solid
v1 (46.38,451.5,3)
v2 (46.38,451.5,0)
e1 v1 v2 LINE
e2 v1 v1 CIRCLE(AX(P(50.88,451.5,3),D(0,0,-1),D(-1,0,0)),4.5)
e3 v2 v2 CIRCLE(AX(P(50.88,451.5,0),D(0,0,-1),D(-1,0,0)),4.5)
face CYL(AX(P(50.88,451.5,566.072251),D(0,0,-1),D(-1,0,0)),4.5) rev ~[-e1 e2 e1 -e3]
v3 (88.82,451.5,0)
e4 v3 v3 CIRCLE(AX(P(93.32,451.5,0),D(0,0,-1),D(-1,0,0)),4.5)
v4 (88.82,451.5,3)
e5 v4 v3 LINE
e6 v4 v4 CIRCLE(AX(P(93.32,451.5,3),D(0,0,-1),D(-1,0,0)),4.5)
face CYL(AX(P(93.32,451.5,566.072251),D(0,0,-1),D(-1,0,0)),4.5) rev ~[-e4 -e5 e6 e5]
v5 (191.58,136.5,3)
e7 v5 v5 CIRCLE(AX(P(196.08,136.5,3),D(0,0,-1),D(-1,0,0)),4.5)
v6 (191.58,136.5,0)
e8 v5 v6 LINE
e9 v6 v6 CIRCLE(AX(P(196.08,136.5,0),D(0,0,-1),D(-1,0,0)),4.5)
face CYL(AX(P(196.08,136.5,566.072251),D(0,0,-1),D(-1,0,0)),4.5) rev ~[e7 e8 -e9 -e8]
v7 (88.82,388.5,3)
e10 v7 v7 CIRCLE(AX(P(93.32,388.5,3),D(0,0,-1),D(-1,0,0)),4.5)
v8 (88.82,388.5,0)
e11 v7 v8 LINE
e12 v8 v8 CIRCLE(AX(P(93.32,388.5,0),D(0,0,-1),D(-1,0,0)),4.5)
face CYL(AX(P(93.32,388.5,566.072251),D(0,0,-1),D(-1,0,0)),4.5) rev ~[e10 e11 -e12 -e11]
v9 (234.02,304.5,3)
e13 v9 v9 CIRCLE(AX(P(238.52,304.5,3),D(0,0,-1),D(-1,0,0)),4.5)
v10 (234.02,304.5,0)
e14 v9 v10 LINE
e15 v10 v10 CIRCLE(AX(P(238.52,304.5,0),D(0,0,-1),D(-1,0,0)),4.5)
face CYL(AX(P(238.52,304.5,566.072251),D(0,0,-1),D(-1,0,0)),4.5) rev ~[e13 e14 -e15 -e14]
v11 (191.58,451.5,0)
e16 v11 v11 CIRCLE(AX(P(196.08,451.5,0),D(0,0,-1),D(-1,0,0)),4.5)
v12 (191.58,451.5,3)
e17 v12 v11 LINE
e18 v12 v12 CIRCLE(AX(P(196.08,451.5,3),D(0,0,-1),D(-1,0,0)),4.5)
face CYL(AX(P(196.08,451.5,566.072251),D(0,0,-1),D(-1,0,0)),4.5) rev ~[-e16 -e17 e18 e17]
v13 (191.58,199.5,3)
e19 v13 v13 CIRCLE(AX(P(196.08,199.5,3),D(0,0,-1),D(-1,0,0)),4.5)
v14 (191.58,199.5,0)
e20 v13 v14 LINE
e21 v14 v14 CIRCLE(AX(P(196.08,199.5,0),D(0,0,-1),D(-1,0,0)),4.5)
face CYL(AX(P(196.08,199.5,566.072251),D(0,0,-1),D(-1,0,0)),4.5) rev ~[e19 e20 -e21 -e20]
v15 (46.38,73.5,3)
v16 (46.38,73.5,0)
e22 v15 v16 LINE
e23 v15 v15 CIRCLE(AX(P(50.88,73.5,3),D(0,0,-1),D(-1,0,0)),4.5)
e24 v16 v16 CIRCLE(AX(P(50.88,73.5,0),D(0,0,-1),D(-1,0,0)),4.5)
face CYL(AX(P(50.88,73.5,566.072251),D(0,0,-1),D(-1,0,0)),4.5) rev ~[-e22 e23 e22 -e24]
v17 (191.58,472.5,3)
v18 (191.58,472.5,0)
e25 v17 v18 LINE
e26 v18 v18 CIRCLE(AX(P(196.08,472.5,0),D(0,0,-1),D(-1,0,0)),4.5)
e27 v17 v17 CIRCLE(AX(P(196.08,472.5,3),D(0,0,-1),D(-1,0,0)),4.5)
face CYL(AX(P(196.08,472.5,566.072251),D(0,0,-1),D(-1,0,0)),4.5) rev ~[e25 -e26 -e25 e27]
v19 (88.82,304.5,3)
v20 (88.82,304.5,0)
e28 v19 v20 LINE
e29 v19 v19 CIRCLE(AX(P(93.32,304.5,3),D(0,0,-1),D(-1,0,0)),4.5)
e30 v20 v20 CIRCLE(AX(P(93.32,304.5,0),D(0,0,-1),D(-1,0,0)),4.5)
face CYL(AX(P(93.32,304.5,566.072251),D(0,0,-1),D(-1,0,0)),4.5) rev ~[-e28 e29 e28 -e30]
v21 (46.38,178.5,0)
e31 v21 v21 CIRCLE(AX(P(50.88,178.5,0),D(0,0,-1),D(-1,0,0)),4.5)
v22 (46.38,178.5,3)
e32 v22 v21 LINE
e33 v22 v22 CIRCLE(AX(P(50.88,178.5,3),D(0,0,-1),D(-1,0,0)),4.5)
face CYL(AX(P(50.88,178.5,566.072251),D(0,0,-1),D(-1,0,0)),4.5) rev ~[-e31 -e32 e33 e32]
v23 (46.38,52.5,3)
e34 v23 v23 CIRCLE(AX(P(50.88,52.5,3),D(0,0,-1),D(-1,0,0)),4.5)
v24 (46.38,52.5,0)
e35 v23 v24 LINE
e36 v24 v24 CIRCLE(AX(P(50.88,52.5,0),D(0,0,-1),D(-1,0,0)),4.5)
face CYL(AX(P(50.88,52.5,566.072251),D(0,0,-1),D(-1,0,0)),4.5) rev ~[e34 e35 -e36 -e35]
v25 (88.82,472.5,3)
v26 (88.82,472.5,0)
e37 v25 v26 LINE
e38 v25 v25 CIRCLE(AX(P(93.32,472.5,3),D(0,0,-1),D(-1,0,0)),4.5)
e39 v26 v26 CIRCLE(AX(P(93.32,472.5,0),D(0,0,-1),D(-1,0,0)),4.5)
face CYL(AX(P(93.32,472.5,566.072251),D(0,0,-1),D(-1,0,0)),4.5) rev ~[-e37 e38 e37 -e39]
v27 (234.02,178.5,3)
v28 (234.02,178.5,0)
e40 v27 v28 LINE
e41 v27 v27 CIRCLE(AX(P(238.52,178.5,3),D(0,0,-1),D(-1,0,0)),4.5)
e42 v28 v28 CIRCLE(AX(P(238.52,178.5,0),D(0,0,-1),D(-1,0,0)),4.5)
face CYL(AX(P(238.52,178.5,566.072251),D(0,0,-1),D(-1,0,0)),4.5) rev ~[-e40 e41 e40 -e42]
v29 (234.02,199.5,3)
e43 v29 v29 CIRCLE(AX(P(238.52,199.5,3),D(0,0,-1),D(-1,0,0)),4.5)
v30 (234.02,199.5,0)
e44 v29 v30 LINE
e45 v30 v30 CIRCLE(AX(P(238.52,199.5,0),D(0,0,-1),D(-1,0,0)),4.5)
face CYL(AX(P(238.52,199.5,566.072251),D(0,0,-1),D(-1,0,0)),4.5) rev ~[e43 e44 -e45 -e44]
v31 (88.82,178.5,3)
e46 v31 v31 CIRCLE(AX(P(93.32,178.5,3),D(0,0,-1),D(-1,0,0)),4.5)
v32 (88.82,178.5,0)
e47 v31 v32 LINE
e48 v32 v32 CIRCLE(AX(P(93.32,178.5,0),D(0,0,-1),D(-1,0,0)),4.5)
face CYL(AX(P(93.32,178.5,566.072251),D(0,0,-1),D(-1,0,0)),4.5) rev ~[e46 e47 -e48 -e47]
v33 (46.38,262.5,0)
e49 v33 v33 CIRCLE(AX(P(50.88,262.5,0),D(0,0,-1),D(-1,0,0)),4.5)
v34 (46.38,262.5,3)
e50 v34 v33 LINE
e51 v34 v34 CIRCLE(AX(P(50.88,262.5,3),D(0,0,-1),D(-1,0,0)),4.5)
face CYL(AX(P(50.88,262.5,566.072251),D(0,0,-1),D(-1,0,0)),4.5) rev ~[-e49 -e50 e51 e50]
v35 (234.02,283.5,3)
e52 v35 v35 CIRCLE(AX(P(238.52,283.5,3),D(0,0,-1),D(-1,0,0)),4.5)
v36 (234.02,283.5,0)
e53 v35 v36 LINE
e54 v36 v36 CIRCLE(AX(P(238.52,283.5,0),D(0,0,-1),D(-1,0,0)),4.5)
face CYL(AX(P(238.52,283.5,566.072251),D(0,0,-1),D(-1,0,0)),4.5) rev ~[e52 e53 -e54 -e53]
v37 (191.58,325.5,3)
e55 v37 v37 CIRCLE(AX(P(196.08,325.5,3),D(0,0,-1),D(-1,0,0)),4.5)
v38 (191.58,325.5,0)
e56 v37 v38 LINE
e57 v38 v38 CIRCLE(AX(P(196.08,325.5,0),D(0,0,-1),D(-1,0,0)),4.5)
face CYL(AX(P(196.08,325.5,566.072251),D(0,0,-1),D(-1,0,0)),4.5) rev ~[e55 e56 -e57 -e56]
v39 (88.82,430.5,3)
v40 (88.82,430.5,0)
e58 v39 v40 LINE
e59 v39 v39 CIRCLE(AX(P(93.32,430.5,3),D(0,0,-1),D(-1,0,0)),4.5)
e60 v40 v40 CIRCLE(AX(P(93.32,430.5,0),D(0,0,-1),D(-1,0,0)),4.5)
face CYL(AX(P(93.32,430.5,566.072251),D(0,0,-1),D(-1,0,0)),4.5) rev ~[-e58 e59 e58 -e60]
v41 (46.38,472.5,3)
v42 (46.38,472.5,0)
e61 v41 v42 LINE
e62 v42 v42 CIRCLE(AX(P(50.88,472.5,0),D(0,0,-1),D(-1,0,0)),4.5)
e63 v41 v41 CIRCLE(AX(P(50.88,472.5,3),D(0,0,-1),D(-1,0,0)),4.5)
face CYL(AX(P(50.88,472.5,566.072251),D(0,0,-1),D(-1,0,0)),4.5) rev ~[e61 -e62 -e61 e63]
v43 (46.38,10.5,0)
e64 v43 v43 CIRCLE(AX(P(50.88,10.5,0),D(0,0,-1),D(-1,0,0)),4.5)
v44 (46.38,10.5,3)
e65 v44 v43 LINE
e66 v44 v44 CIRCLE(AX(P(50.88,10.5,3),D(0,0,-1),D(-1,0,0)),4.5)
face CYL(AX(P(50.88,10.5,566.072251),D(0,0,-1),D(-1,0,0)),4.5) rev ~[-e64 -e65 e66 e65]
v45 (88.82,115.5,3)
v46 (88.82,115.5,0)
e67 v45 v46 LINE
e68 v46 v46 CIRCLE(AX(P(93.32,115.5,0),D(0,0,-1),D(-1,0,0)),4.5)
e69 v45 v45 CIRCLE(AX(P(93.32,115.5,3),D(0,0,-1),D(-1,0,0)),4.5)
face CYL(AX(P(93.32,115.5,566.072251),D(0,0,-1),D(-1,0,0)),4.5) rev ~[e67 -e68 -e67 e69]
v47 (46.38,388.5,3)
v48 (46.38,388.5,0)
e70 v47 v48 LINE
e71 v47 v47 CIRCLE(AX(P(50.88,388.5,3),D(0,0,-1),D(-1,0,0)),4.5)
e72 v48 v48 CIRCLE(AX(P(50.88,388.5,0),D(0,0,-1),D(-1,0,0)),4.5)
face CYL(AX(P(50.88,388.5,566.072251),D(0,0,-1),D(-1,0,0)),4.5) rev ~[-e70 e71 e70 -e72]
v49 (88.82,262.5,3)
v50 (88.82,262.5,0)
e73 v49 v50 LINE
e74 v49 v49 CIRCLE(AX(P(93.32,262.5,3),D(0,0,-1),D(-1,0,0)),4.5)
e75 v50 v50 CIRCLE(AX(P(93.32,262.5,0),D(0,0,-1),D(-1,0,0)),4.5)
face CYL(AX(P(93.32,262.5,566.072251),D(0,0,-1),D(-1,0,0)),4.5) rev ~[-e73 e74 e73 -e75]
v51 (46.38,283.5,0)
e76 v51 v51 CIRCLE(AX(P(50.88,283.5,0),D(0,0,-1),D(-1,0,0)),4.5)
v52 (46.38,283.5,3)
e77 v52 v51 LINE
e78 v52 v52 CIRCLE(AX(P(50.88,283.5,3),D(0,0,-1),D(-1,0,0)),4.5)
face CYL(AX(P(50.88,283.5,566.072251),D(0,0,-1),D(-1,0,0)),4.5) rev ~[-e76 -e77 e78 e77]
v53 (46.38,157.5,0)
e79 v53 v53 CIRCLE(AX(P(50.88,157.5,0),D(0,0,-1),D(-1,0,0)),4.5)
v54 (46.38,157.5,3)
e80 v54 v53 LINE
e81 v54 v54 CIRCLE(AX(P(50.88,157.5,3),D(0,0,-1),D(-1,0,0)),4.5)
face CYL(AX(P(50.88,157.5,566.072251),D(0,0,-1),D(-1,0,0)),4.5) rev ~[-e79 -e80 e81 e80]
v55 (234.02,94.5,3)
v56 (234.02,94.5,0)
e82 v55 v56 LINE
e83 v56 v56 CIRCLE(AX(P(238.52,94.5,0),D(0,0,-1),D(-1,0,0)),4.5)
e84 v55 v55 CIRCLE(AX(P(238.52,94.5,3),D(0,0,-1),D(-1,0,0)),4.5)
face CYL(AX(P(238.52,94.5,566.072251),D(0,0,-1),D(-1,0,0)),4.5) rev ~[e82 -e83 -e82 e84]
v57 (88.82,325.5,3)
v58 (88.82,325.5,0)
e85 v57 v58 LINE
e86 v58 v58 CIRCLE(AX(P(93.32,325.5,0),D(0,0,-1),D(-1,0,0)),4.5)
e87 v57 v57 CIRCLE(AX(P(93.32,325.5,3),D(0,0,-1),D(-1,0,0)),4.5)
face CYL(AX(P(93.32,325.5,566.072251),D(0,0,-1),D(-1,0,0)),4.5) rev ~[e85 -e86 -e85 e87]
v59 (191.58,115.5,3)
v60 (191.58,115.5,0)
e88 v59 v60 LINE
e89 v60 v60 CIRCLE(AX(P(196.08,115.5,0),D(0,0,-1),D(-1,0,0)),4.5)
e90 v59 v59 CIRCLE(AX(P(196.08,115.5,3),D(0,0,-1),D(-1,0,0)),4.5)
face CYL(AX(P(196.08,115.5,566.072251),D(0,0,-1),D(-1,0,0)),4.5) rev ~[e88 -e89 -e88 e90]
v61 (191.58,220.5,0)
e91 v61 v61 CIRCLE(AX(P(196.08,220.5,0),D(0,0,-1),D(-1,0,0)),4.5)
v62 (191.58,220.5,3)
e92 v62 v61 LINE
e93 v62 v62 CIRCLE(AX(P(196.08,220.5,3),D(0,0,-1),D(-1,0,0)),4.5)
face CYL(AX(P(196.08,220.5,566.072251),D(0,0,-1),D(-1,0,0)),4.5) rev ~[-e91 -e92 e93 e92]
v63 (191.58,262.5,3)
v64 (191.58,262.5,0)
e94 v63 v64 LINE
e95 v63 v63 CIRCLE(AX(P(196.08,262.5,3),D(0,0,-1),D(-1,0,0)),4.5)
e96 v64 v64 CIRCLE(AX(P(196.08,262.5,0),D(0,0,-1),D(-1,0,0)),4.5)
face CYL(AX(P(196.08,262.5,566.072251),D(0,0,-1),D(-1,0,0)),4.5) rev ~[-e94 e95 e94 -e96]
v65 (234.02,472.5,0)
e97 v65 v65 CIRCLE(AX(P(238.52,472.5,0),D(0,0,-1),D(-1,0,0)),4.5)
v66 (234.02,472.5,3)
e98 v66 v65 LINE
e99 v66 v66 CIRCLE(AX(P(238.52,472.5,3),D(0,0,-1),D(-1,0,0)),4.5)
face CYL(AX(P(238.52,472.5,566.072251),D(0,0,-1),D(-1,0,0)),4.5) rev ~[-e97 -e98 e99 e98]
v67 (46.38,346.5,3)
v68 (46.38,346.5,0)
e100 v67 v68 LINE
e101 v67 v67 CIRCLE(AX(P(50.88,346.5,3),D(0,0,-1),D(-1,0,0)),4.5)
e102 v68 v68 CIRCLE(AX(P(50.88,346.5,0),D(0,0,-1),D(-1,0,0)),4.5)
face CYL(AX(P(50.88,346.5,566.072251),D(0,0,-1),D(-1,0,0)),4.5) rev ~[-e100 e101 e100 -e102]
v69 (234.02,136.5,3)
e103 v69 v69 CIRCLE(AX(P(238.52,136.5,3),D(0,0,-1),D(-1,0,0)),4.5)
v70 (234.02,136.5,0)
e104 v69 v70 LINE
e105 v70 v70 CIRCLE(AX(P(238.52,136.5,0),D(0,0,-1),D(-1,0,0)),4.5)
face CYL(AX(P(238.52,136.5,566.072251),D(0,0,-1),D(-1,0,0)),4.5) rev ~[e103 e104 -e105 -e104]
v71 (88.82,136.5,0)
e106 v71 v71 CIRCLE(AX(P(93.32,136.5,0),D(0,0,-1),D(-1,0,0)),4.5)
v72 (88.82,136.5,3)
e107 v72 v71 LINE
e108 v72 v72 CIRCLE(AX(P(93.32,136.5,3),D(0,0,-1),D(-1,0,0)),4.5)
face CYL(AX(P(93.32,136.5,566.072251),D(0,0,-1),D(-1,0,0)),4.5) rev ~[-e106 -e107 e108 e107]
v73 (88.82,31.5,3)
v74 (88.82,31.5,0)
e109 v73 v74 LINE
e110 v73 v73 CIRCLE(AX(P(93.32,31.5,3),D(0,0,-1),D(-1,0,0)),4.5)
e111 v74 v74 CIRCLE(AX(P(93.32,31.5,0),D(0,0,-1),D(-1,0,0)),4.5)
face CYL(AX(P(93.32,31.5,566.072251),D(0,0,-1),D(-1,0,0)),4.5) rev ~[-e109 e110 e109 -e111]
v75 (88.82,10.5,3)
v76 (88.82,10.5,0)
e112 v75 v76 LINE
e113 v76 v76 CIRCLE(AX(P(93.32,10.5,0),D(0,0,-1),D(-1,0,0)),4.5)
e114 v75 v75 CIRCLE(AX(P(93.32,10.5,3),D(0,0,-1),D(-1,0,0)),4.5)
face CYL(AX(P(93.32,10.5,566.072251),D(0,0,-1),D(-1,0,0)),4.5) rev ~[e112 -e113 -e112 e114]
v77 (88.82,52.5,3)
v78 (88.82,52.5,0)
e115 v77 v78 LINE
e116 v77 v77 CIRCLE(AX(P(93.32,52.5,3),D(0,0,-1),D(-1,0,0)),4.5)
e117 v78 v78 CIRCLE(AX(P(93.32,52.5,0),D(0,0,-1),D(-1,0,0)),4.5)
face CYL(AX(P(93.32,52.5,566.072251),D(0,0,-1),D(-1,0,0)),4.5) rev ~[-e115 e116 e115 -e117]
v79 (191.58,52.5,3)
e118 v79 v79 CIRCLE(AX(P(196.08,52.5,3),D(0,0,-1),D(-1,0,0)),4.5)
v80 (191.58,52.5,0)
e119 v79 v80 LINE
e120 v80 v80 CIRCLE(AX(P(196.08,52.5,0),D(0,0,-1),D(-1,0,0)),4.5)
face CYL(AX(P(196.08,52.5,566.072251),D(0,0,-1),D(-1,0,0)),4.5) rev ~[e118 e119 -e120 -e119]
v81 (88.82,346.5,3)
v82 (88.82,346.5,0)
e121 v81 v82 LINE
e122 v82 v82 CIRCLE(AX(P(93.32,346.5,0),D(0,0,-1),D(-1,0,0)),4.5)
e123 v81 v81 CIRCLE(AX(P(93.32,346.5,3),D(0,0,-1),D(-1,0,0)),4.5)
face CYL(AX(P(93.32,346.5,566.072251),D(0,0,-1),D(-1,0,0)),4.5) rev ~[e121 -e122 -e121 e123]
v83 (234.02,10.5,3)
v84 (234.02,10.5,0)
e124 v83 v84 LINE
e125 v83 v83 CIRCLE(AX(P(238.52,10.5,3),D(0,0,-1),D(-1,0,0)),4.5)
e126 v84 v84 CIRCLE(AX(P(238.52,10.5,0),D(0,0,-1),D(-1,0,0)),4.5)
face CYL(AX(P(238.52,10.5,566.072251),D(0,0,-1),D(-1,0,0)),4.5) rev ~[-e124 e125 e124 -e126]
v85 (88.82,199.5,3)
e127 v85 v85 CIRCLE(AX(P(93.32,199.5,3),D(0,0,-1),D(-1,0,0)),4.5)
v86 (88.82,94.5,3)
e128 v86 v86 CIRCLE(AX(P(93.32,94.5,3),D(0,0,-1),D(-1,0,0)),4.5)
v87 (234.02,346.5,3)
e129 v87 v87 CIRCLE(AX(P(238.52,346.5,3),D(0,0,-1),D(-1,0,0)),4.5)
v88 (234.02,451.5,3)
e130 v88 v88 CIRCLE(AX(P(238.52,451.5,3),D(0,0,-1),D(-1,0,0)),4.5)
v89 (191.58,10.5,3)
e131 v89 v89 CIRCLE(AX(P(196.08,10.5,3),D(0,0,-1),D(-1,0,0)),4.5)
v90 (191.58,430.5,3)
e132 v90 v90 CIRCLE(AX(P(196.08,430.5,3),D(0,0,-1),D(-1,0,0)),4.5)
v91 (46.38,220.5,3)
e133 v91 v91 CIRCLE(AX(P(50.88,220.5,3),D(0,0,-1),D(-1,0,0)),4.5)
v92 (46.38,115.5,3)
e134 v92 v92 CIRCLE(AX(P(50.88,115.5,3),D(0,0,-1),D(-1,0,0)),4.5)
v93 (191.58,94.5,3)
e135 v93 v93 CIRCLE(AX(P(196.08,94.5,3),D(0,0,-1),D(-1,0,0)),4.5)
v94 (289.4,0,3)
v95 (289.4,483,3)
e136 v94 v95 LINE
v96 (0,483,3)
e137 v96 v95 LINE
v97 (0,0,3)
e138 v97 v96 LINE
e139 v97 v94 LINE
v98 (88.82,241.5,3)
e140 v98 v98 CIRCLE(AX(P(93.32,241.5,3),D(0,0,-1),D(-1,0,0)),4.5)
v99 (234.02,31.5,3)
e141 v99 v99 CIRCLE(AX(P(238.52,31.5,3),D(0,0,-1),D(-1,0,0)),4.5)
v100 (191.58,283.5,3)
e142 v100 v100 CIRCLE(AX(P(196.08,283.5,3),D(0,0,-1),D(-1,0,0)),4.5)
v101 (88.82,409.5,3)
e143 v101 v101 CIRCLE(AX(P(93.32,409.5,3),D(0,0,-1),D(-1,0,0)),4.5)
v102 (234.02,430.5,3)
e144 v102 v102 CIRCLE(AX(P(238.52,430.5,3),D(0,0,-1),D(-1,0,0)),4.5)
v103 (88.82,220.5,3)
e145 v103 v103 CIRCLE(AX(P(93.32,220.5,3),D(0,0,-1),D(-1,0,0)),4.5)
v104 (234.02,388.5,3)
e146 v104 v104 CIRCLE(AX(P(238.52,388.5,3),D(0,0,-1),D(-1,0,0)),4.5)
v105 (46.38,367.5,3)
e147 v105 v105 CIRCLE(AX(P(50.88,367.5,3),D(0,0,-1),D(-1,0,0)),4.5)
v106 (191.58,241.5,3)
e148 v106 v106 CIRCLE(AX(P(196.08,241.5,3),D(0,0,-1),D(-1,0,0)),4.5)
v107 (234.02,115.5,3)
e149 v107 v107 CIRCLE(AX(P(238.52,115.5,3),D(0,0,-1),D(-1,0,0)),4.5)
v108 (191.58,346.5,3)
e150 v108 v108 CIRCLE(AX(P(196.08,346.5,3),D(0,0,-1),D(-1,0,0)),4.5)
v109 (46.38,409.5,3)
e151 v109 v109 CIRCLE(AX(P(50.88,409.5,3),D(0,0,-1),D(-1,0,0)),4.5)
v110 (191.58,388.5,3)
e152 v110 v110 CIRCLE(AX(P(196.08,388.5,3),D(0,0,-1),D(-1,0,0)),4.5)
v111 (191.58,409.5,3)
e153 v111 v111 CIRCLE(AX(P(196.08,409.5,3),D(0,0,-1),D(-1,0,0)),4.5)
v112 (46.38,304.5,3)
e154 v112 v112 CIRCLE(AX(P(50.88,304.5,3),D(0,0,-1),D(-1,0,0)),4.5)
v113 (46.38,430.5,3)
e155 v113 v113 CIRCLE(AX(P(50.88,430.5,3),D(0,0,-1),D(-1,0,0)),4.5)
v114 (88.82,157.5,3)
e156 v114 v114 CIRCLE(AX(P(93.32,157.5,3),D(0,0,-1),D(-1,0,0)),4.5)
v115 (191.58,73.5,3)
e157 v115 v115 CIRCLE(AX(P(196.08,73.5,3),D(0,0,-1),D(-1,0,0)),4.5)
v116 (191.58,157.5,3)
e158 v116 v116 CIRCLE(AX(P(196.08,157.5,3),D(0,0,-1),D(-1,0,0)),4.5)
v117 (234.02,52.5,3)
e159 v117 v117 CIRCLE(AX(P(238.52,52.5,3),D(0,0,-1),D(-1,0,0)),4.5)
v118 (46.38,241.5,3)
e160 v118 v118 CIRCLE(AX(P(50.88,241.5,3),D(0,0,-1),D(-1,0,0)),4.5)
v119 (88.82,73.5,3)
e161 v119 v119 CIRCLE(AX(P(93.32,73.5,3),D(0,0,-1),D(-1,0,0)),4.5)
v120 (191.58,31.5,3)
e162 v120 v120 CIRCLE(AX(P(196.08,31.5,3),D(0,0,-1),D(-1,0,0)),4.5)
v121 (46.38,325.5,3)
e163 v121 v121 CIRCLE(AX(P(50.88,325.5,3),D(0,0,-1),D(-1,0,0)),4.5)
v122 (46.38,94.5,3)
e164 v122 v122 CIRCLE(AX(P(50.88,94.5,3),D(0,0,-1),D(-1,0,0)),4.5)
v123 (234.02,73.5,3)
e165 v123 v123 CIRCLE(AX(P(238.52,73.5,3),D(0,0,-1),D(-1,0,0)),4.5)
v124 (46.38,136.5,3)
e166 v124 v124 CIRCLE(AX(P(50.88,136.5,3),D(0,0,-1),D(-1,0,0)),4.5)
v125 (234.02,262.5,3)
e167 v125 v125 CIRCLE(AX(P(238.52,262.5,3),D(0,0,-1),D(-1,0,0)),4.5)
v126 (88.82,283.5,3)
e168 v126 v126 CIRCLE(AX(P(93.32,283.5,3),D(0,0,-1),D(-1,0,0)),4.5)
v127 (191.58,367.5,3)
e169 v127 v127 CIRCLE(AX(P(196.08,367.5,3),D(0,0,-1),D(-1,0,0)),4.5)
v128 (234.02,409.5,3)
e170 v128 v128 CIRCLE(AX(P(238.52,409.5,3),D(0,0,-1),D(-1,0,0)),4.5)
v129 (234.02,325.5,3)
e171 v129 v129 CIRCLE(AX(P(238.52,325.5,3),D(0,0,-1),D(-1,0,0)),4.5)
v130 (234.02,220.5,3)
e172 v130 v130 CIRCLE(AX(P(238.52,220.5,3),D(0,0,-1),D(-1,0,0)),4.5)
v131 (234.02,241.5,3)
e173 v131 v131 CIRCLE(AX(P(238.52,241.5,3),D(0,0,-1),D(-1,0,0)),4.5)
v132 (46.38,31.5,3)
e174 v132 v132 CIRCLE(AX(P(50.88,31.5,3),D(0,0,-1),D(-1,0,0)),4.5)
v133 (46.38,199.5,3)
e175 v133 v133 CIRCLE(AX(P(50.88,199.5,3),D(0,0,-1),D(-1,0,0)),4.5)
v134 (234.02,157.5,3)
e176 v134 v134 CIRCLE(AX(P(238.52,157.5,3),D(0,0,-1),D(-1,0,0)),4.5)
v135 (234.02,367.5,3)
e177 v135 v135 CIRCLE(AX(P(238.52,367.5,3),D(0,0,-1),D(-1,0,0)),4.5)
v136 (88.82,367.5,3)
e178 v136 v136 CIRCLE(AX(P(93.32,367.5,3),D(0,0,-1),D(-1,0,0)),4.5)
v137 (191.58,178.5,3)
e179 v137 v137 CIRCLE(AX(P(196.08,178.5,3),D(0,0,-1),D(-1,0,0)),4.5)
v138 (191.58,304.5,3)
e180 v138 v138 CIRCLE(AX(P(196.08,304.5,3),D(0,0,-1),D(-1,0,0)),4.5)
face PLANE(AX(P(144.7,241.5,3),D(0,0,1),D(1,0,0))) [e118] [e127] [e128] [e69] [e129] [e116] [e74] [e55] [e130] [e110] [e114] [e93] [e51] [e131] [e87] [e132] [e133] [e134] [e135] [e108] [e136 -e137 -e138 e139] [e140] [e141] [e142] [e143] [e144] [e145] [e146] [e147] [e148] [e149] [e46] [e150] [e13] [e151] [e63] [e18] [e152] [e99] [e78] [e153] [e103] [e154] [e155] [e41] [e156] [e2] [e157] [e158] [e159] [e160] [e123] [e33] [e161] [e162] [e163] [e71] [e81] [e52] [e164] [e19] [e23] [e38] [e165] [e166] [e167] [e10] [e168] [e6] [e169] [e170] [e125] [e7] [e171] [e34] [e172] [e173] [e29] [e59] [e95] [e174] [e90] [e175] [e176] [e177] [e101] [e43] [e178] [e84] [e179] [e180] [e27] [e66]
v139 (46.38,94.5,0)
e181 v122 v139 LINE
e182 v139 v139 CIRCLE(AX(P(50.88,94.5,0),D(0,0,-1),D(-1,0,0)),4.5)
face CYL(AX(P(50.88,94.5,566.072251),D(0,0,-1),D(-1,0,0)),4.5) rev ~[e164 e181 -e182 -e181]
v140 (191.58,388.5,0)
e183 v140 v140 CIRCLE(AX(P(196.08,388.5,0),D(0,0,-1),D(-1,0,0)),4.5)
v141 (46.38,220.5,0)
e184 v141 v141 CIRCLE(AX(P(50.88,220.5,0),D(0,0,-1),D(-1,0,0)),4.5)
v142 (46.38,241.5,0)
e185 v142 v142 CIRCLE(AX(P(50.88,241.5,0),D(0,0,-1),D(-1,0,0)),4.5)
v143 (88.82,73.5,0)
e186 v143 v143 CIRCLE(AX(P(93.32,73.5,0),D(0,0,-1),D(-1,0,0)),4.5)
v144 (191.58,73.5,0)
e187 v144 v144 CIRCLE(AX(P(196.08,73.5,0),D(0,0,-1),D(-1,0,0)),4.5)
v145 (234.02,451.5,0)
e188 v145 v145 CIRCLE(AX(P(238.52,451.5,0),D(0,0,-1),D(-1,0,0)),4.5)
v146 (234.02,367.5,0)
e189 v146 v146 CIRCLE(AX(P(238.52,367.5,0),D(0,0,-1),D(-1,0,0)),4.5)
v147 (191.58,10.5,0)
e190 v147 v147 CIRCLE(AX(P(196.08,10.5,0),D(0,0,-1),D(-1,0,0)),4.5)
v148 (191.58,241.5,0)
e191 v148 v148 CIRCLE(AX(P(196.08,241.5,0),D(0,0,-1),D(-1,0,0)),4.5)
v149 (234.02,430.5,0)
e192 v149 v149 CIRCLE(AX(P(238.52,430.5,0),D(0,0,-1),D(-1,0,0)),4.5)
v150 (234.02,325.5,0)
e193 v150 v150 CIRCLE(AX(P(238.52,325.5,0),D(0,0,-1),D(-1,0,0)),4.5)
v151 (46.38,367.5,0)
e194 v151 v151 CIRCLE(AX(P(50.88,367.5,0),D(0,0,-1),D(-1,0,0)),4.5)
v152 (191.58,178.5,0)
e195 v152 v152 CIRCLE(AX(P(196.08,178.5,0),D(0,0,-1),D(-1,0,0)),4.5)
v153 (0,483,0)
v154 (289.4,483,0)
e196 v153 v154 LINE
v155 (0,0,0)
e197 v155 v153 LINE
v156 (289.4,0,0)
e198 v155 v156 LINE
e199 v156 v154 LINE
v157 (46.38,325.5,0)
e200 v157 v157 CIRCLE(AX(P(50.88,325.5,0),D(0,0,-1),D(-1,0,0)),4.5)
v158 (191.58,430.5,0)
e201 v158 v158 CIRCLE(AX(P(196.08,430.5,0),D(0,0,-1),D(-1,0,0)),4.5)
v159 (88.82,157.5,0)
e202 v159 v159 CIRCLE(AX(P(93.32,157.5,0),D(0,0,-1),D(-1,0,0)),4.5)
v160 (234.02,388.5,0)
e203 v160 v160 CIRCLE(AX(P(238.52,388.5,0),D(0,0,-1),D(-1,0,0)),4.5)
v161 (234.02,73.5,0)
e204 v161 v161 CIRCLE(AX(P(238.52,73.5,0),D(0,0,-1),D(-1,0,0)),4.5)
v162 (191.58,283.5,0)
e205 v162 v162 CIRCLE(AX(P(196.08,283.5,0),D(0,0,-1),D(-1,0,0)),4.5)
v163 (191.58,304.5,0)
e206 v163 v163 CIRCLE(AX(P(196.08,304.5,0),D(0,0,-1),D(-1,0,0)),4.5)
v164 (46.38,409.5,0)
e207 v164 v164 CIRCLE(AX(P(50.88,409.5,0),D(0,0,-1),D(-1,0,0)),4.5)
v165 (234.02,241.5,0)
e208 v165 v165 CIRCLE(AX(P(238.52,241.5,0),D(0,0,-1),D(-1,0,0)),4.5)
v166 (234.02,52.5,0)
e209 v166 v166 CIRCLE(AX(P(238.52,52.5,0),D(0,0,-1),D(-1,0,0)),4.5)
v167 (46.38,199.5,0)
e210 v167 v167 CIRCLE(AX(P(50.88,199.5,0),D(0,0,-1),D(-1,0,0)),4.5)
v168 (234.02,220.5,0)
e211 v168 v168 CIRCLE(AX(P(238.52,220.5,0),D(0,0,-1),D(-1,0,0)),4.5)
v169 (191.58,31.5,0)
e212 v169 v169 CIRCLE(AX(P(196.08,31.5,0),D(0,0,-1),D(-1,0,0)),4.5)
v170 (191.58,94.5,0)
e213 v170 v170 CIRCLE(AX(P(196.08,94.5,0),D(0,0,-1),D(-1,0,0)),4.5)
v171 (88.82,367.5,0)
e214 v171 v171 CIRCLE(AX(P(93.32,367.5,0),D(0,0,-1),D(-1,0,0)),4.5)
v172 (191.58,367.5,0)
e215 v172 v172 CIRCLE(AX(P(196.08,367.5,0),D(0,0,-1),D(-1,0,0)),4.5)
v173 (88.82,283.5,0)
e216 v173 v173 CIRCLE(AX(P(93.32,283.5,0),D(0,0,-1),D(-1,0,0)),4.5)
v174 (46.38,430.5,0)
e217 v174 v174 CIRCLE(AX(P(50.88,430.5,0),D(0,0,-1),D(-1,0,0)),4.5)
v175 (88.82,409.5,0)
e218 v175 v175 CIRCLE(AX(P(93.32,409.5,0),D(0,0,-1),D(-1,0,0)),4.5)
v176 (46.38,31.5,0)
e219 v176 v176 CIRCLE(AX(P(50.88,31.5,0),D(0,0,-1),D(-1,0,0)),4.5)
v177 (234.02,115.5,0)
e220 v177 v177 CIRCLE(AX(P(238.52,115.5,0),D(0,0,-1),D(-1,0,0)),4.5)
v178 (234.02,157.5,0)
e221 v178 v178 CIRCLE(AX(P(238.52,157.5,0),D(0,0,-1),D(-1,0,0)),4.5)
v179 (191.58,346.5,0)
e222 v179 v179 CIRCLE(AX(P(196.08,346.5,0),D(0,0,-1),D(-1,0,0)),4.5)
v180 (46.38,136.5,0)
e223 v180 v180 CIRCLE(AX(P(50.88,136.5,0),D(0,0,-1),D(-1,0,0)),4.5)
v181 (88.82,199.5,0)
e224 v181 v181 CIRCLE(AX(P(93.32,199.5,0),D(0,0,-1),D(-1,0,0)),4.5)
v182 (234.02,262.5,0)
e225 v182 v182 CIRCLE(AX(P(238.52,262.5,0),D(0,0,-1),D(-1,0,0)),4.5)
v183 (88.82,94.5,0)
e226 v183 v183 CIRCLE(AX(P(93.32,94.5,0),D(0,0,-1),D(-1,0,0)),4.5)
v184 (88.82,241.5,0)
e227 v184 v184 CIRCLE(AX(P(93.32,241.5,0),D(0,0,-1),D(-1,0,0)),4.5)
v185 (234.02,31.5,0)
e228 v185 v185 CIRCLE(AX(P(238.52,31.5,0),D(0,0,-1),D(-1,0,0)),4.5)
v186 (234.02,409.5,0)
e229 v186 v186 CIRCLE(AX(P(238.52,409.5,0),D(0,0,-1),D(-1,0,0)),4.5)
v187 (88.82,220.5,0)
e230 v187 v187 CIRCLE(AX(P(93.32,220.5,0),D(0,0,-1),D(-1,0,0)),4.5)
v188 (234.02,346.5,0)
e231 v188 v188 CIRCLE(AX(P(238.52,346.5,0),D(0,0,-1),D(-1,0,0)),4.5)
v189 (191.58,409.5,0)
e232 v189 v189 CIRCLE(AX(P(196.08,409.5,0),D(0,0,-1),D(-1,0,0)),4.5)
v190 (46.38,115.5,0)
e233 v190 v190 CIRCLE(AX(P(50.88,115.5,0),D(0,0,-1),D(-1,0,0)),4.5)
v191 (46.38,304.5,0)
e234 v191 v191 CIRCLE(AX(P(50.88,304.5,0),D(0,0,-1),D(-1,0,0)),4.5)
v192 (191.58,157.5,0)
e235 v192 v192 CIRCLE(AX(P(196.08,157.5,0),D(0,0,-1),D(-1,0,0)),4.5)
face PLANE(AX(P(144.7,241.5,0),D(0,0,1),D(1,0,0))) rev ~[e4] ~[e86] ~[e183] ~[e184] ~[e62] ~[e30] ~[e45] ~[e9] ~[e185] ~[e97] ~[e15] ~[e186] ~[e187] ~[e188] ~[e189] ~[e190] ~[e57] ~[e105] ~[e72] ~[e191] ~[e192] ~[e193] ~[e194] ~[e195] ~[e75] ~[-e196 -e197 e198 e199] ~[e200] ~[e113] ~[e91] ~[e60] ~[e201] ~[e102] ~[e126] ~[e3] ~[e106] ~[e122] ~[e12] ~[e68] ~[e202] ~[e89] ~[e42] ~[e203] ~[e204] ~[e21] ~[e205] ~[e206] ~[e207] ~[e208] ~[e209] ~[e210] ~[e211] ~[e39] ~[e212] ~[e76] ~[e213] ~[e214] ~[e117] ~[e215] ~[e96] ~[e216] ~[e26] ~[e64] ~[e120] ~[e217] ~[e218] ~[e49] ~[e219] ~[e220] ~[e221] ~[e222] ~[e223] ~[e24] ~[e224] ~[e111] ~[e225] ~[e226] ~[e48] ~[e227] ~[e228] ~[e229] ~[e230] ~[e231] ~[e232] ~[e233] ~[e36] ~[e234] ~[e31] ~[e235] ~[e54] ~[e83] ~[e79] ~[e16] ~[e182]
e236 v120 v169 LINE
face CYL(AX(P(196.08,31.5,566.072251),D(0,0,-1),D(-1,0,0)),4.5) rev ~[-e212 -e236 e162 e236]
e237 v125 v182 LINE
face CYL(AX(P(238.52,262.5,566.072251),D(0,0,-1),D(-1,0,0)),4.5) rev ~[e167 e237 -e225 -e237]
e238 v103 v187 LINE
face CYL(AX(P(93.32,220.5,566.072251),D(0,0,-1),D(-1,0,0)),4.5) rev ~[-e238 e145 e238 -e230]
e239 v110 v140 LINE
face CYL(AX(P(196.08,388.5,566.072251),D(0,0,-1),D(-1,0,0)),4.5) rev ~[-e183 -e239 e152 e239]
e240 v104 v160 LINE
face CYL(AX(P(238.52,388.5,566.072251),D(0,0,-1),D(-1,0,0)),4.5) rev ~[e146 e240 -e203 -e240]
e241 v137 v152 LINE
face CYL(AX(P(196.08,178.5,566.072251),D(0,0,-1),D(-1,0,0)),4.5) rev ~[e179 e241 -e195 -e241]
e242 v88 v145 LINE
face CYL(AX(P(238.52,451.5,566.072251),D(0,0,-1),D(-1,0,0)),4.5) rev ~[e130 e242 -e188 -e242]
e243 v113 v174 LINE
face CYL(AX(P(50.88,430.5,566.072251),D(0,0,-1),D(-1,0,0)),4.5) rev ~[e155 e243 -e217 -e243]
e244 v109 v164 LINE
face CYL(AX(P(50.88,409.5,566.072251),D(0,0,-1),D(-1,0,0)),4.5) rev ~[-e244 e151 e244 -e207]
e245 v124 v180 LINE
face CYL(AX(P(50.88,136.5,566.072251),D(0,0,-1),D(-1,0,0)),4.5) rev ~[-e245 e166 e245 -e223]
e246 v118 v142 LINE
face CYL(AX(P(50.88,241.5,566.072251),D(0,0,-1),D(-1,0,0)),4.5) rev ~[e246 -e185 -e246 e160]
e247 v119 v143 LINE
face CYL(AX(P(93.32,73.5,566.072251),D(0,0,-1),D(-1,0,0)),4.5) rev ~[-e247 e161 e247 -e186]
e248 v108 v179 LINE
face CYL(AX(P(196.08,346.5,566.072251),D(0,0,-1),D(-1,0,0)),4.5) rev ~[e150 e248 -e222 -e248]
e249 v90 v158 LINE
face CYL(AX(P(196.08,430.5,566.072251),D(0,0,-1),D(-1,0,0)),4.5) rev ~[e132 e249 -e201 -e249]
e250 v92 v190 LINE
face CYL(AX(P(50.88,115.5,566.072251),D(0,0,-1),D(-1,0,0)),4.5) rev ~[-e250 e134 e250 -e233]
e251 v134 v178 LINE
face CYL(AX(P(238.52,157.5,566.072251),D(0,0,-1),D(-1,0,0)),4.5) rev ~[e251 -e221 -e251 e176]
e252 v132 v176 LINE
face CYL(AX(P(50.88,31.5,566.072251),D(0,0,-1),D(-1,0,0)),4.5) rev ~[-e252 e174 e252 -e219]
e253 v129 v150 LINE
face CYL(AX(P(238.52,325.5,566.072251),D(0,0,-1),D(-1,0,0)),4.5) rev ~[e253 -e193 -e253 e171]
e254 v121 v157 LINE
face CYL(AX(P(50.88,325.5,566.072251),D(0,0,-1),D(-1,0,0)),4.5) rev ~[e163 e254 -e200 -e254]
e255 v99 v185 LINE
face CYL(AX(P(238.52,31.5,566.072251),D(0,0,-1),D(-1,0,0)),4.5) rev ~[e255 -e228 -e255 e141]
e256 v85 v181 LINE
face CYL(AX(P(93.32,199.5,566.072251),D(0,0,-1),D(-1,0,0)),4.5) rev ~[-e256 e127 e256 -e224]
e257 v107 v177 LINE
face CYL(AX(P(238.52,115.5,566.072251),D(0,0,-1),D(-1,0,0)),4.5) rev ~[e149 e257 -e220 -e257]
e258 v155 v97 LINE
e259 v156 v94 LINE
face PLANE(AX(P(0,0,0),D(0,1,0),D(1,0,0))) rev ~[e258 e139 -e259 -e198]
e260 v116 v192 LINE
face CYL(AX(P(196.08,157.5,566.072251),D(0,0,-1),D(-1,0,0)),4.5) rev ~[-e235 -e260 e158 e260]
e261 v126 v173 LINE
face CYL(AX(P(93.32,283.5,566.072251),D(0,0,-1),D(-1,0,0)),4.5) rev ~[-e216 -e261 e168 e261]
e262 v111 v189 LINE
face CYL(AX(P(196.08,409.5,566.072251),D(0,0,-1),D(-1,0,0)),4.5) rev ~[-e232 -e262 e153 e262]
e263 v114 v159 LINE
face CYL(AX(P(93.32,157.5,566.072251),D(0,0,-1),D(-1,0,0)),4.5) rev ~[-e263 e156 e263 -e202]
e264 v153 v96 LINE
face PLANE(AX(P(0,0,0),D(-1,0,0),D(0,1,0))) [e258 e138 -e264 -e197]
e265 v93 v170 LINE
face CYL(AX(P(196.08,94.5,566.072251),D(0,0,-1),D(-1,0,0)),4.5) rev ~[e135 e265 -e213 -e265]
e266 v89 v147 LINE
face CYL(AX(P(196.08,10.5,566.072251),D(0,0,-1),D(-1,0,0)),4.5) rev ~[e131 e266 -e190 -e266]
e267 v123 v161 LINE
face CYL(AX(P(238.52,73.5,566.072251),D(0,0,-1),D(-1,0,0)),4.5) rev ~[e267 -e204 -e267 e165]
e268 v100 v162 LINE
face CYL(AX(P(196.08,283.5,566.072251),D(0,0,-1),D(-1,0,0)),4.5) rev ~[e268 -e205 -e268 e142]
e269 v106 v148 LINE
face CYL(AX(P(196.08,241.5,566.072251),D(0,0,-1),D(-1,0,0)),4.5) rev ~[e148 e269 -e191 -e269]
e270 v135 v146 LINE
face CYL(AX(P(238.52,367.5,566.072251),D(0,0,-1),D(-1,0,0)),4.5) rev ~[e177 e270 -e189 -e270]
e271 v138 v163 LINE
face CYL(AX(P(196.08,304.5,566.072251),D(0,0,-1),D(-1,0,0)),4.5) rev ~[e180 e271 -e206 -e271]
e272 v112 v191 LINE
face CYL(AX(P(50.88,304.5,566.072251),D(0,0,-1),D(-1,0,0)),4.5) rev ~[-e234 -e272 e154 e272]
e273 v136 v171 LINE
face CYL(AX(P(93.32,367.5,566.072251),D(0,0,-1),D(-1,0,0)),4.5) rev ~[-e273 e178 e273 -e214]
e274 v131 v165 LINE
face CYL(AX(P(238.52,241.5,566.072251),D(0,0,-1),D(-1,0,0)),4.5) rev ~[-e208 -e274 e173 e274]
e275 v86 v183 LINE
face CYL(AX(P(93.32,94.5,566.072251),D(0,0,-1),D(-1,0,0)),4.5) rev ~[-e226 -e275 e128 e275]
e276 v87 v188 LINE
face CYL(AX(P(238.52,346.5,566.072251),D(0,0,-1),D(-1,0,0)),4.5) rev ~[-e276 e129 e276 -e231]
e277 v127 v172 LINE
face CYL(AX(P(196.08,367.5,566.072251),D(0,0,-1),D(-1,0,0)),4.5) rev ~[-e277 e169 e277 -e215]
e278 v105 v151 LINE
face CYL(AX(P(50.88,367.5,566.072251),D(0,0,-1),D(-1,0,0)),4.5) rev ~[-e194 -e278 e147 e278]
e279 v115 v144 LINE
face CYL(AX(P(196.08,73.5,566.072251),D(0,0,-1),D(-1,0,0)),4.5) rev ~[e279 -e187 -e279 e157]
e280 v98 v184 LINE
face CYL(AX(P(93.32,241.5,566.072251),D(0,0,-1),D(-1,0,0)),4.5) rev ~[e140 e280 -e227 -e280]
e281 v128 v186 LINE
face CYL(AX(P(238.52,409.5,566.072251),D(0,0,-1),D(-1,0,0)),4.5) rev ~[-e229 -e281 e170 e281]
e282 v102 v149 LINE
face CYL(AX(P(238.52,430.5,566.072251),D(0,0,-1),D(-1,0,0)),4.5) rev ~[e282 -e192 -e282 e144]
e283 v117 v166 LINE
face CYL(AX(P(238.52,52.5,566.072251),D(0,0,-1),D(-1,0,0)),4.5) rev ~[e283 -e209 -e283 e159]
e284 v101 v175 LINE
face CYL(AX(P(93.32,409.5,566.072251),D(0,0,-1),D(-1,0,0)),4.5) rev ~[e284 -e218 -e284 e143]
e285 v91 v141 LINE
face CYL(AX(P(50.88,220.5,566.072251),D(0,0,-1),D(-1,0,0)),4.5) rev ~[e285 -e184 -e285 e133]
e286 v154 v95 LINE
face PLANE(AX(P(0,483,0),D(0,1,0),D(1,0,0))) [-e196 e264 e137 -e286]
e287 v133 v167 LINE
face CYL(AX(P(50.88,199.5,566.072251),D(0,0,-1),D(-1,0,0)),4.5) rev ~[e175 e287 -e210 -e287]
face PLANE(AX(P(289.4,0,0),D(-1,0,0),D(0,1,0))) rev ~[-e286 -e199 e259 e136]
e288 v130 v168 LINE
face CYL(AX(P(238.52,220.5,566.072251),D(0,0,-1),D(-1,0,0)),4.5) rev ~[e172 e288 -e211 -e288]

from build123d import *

# Parameters (mm, degrees)
SKETCH1_W            = 289.4
SKETCH1_H            = 483
BOSS_EXTRUDE1_DEPTH  = 3
M8_CLEARANCE_HOLE1_D = 9


with BuildPart() as part:
    # Sketch1 → Boss-Extrude1 (new body)
    with BuildSketch(Plane.XY):
        with Locations((144.7, 241.5)):
            Rectangle(SKETCH1_W, SKETCH1_H)
    extrude(amount=BOSS_EXTRUDE1_DEPTH)

    # M8 Clearance Hole1 (through all)
    with Locations(Plane.XY.offset(3)):
        with Locations((238.52, 10.5), (196.08, 10.5), (93.32, 10.5), (50.88, 10.5), (238.52, 31.5), (196.08, 31.5), (93.32, 31.5), (50.88, 31.5), (238.52, 52.5), (196.08, 52.5), (93.32, 52.5), (50.88, 52.5), (238.52, 73.5), (196.08, 73.5), (93.32, 73.5), (50.88, 73.5), (238.52, 94.5), (196.08, 94.5), (93.32, 94.5), (50.88, 94.5), (238.52, 115.5), (196.08, 115.5), (93.32, 115.5), (50.88, 115.5), (238.52, 136.5), (196.08, 136.5), (93.32, 136.5), (50.88, 136.5), (238.52, 157.5), (196.08, 157.5), (93.32, 157.5), (50.88, 157.5), (238.52, 178.5), (196.08, 178.5), (93.32, 178.5), (50.88, 178.5), (238.52, 199.5), (196.08, 199.5), (93.32, 199.5), (50.88, 199.5), (238.52, 220.5), (196.08, 220.5), (93.32, 220.5), (50.88, 220.5), (238.52, 241.5), (196.08, 241.5), (93.32, 241.5), (50.88, 241.5), (238.52, 262.5), (196.08, 262.5), (93.32, 262.5), (50.88, 262.5), (238.52, 283.5), (196.08, 283.5), (93.32, 283.5), (50.88, 283.5), (238.52, 304.5), (196.08, 304.5), (93.32, 304.5), (50.88, 304.5), (238.52, 325.5), (196.08, 325.5), (93.32, 325.5), (50.88, 325.5), (238.52, 346.5), (196.08, 346.5), (93.32, 346.5), (50.88, 346.5), (238.52, 367.5), (196.08, 367.5), (93.32, 367.5), (50.88, 367.5), (238.52, 388.5), (196.08, 388.5), (93.32, 388.5), (50.88, 388.5), (238.52, 409.5), (196.08, 409.5), (93.32, 409.5), (50.88, 409.5), (238.52, 430.5), (196.08, 430.5), (93.32, 430.5), (50.88, 430.5), (238.52, 451.5), (196.08, 451.5), (93.32, 451.5), (50.88, 451.5), (238.52, 472.5), (196.08, 472.5), (93.32, 472.5), (50.88, 472.5)):
            Hole(M8_CLEARANCE_HOLE1_D / 2)


solid = part.part
